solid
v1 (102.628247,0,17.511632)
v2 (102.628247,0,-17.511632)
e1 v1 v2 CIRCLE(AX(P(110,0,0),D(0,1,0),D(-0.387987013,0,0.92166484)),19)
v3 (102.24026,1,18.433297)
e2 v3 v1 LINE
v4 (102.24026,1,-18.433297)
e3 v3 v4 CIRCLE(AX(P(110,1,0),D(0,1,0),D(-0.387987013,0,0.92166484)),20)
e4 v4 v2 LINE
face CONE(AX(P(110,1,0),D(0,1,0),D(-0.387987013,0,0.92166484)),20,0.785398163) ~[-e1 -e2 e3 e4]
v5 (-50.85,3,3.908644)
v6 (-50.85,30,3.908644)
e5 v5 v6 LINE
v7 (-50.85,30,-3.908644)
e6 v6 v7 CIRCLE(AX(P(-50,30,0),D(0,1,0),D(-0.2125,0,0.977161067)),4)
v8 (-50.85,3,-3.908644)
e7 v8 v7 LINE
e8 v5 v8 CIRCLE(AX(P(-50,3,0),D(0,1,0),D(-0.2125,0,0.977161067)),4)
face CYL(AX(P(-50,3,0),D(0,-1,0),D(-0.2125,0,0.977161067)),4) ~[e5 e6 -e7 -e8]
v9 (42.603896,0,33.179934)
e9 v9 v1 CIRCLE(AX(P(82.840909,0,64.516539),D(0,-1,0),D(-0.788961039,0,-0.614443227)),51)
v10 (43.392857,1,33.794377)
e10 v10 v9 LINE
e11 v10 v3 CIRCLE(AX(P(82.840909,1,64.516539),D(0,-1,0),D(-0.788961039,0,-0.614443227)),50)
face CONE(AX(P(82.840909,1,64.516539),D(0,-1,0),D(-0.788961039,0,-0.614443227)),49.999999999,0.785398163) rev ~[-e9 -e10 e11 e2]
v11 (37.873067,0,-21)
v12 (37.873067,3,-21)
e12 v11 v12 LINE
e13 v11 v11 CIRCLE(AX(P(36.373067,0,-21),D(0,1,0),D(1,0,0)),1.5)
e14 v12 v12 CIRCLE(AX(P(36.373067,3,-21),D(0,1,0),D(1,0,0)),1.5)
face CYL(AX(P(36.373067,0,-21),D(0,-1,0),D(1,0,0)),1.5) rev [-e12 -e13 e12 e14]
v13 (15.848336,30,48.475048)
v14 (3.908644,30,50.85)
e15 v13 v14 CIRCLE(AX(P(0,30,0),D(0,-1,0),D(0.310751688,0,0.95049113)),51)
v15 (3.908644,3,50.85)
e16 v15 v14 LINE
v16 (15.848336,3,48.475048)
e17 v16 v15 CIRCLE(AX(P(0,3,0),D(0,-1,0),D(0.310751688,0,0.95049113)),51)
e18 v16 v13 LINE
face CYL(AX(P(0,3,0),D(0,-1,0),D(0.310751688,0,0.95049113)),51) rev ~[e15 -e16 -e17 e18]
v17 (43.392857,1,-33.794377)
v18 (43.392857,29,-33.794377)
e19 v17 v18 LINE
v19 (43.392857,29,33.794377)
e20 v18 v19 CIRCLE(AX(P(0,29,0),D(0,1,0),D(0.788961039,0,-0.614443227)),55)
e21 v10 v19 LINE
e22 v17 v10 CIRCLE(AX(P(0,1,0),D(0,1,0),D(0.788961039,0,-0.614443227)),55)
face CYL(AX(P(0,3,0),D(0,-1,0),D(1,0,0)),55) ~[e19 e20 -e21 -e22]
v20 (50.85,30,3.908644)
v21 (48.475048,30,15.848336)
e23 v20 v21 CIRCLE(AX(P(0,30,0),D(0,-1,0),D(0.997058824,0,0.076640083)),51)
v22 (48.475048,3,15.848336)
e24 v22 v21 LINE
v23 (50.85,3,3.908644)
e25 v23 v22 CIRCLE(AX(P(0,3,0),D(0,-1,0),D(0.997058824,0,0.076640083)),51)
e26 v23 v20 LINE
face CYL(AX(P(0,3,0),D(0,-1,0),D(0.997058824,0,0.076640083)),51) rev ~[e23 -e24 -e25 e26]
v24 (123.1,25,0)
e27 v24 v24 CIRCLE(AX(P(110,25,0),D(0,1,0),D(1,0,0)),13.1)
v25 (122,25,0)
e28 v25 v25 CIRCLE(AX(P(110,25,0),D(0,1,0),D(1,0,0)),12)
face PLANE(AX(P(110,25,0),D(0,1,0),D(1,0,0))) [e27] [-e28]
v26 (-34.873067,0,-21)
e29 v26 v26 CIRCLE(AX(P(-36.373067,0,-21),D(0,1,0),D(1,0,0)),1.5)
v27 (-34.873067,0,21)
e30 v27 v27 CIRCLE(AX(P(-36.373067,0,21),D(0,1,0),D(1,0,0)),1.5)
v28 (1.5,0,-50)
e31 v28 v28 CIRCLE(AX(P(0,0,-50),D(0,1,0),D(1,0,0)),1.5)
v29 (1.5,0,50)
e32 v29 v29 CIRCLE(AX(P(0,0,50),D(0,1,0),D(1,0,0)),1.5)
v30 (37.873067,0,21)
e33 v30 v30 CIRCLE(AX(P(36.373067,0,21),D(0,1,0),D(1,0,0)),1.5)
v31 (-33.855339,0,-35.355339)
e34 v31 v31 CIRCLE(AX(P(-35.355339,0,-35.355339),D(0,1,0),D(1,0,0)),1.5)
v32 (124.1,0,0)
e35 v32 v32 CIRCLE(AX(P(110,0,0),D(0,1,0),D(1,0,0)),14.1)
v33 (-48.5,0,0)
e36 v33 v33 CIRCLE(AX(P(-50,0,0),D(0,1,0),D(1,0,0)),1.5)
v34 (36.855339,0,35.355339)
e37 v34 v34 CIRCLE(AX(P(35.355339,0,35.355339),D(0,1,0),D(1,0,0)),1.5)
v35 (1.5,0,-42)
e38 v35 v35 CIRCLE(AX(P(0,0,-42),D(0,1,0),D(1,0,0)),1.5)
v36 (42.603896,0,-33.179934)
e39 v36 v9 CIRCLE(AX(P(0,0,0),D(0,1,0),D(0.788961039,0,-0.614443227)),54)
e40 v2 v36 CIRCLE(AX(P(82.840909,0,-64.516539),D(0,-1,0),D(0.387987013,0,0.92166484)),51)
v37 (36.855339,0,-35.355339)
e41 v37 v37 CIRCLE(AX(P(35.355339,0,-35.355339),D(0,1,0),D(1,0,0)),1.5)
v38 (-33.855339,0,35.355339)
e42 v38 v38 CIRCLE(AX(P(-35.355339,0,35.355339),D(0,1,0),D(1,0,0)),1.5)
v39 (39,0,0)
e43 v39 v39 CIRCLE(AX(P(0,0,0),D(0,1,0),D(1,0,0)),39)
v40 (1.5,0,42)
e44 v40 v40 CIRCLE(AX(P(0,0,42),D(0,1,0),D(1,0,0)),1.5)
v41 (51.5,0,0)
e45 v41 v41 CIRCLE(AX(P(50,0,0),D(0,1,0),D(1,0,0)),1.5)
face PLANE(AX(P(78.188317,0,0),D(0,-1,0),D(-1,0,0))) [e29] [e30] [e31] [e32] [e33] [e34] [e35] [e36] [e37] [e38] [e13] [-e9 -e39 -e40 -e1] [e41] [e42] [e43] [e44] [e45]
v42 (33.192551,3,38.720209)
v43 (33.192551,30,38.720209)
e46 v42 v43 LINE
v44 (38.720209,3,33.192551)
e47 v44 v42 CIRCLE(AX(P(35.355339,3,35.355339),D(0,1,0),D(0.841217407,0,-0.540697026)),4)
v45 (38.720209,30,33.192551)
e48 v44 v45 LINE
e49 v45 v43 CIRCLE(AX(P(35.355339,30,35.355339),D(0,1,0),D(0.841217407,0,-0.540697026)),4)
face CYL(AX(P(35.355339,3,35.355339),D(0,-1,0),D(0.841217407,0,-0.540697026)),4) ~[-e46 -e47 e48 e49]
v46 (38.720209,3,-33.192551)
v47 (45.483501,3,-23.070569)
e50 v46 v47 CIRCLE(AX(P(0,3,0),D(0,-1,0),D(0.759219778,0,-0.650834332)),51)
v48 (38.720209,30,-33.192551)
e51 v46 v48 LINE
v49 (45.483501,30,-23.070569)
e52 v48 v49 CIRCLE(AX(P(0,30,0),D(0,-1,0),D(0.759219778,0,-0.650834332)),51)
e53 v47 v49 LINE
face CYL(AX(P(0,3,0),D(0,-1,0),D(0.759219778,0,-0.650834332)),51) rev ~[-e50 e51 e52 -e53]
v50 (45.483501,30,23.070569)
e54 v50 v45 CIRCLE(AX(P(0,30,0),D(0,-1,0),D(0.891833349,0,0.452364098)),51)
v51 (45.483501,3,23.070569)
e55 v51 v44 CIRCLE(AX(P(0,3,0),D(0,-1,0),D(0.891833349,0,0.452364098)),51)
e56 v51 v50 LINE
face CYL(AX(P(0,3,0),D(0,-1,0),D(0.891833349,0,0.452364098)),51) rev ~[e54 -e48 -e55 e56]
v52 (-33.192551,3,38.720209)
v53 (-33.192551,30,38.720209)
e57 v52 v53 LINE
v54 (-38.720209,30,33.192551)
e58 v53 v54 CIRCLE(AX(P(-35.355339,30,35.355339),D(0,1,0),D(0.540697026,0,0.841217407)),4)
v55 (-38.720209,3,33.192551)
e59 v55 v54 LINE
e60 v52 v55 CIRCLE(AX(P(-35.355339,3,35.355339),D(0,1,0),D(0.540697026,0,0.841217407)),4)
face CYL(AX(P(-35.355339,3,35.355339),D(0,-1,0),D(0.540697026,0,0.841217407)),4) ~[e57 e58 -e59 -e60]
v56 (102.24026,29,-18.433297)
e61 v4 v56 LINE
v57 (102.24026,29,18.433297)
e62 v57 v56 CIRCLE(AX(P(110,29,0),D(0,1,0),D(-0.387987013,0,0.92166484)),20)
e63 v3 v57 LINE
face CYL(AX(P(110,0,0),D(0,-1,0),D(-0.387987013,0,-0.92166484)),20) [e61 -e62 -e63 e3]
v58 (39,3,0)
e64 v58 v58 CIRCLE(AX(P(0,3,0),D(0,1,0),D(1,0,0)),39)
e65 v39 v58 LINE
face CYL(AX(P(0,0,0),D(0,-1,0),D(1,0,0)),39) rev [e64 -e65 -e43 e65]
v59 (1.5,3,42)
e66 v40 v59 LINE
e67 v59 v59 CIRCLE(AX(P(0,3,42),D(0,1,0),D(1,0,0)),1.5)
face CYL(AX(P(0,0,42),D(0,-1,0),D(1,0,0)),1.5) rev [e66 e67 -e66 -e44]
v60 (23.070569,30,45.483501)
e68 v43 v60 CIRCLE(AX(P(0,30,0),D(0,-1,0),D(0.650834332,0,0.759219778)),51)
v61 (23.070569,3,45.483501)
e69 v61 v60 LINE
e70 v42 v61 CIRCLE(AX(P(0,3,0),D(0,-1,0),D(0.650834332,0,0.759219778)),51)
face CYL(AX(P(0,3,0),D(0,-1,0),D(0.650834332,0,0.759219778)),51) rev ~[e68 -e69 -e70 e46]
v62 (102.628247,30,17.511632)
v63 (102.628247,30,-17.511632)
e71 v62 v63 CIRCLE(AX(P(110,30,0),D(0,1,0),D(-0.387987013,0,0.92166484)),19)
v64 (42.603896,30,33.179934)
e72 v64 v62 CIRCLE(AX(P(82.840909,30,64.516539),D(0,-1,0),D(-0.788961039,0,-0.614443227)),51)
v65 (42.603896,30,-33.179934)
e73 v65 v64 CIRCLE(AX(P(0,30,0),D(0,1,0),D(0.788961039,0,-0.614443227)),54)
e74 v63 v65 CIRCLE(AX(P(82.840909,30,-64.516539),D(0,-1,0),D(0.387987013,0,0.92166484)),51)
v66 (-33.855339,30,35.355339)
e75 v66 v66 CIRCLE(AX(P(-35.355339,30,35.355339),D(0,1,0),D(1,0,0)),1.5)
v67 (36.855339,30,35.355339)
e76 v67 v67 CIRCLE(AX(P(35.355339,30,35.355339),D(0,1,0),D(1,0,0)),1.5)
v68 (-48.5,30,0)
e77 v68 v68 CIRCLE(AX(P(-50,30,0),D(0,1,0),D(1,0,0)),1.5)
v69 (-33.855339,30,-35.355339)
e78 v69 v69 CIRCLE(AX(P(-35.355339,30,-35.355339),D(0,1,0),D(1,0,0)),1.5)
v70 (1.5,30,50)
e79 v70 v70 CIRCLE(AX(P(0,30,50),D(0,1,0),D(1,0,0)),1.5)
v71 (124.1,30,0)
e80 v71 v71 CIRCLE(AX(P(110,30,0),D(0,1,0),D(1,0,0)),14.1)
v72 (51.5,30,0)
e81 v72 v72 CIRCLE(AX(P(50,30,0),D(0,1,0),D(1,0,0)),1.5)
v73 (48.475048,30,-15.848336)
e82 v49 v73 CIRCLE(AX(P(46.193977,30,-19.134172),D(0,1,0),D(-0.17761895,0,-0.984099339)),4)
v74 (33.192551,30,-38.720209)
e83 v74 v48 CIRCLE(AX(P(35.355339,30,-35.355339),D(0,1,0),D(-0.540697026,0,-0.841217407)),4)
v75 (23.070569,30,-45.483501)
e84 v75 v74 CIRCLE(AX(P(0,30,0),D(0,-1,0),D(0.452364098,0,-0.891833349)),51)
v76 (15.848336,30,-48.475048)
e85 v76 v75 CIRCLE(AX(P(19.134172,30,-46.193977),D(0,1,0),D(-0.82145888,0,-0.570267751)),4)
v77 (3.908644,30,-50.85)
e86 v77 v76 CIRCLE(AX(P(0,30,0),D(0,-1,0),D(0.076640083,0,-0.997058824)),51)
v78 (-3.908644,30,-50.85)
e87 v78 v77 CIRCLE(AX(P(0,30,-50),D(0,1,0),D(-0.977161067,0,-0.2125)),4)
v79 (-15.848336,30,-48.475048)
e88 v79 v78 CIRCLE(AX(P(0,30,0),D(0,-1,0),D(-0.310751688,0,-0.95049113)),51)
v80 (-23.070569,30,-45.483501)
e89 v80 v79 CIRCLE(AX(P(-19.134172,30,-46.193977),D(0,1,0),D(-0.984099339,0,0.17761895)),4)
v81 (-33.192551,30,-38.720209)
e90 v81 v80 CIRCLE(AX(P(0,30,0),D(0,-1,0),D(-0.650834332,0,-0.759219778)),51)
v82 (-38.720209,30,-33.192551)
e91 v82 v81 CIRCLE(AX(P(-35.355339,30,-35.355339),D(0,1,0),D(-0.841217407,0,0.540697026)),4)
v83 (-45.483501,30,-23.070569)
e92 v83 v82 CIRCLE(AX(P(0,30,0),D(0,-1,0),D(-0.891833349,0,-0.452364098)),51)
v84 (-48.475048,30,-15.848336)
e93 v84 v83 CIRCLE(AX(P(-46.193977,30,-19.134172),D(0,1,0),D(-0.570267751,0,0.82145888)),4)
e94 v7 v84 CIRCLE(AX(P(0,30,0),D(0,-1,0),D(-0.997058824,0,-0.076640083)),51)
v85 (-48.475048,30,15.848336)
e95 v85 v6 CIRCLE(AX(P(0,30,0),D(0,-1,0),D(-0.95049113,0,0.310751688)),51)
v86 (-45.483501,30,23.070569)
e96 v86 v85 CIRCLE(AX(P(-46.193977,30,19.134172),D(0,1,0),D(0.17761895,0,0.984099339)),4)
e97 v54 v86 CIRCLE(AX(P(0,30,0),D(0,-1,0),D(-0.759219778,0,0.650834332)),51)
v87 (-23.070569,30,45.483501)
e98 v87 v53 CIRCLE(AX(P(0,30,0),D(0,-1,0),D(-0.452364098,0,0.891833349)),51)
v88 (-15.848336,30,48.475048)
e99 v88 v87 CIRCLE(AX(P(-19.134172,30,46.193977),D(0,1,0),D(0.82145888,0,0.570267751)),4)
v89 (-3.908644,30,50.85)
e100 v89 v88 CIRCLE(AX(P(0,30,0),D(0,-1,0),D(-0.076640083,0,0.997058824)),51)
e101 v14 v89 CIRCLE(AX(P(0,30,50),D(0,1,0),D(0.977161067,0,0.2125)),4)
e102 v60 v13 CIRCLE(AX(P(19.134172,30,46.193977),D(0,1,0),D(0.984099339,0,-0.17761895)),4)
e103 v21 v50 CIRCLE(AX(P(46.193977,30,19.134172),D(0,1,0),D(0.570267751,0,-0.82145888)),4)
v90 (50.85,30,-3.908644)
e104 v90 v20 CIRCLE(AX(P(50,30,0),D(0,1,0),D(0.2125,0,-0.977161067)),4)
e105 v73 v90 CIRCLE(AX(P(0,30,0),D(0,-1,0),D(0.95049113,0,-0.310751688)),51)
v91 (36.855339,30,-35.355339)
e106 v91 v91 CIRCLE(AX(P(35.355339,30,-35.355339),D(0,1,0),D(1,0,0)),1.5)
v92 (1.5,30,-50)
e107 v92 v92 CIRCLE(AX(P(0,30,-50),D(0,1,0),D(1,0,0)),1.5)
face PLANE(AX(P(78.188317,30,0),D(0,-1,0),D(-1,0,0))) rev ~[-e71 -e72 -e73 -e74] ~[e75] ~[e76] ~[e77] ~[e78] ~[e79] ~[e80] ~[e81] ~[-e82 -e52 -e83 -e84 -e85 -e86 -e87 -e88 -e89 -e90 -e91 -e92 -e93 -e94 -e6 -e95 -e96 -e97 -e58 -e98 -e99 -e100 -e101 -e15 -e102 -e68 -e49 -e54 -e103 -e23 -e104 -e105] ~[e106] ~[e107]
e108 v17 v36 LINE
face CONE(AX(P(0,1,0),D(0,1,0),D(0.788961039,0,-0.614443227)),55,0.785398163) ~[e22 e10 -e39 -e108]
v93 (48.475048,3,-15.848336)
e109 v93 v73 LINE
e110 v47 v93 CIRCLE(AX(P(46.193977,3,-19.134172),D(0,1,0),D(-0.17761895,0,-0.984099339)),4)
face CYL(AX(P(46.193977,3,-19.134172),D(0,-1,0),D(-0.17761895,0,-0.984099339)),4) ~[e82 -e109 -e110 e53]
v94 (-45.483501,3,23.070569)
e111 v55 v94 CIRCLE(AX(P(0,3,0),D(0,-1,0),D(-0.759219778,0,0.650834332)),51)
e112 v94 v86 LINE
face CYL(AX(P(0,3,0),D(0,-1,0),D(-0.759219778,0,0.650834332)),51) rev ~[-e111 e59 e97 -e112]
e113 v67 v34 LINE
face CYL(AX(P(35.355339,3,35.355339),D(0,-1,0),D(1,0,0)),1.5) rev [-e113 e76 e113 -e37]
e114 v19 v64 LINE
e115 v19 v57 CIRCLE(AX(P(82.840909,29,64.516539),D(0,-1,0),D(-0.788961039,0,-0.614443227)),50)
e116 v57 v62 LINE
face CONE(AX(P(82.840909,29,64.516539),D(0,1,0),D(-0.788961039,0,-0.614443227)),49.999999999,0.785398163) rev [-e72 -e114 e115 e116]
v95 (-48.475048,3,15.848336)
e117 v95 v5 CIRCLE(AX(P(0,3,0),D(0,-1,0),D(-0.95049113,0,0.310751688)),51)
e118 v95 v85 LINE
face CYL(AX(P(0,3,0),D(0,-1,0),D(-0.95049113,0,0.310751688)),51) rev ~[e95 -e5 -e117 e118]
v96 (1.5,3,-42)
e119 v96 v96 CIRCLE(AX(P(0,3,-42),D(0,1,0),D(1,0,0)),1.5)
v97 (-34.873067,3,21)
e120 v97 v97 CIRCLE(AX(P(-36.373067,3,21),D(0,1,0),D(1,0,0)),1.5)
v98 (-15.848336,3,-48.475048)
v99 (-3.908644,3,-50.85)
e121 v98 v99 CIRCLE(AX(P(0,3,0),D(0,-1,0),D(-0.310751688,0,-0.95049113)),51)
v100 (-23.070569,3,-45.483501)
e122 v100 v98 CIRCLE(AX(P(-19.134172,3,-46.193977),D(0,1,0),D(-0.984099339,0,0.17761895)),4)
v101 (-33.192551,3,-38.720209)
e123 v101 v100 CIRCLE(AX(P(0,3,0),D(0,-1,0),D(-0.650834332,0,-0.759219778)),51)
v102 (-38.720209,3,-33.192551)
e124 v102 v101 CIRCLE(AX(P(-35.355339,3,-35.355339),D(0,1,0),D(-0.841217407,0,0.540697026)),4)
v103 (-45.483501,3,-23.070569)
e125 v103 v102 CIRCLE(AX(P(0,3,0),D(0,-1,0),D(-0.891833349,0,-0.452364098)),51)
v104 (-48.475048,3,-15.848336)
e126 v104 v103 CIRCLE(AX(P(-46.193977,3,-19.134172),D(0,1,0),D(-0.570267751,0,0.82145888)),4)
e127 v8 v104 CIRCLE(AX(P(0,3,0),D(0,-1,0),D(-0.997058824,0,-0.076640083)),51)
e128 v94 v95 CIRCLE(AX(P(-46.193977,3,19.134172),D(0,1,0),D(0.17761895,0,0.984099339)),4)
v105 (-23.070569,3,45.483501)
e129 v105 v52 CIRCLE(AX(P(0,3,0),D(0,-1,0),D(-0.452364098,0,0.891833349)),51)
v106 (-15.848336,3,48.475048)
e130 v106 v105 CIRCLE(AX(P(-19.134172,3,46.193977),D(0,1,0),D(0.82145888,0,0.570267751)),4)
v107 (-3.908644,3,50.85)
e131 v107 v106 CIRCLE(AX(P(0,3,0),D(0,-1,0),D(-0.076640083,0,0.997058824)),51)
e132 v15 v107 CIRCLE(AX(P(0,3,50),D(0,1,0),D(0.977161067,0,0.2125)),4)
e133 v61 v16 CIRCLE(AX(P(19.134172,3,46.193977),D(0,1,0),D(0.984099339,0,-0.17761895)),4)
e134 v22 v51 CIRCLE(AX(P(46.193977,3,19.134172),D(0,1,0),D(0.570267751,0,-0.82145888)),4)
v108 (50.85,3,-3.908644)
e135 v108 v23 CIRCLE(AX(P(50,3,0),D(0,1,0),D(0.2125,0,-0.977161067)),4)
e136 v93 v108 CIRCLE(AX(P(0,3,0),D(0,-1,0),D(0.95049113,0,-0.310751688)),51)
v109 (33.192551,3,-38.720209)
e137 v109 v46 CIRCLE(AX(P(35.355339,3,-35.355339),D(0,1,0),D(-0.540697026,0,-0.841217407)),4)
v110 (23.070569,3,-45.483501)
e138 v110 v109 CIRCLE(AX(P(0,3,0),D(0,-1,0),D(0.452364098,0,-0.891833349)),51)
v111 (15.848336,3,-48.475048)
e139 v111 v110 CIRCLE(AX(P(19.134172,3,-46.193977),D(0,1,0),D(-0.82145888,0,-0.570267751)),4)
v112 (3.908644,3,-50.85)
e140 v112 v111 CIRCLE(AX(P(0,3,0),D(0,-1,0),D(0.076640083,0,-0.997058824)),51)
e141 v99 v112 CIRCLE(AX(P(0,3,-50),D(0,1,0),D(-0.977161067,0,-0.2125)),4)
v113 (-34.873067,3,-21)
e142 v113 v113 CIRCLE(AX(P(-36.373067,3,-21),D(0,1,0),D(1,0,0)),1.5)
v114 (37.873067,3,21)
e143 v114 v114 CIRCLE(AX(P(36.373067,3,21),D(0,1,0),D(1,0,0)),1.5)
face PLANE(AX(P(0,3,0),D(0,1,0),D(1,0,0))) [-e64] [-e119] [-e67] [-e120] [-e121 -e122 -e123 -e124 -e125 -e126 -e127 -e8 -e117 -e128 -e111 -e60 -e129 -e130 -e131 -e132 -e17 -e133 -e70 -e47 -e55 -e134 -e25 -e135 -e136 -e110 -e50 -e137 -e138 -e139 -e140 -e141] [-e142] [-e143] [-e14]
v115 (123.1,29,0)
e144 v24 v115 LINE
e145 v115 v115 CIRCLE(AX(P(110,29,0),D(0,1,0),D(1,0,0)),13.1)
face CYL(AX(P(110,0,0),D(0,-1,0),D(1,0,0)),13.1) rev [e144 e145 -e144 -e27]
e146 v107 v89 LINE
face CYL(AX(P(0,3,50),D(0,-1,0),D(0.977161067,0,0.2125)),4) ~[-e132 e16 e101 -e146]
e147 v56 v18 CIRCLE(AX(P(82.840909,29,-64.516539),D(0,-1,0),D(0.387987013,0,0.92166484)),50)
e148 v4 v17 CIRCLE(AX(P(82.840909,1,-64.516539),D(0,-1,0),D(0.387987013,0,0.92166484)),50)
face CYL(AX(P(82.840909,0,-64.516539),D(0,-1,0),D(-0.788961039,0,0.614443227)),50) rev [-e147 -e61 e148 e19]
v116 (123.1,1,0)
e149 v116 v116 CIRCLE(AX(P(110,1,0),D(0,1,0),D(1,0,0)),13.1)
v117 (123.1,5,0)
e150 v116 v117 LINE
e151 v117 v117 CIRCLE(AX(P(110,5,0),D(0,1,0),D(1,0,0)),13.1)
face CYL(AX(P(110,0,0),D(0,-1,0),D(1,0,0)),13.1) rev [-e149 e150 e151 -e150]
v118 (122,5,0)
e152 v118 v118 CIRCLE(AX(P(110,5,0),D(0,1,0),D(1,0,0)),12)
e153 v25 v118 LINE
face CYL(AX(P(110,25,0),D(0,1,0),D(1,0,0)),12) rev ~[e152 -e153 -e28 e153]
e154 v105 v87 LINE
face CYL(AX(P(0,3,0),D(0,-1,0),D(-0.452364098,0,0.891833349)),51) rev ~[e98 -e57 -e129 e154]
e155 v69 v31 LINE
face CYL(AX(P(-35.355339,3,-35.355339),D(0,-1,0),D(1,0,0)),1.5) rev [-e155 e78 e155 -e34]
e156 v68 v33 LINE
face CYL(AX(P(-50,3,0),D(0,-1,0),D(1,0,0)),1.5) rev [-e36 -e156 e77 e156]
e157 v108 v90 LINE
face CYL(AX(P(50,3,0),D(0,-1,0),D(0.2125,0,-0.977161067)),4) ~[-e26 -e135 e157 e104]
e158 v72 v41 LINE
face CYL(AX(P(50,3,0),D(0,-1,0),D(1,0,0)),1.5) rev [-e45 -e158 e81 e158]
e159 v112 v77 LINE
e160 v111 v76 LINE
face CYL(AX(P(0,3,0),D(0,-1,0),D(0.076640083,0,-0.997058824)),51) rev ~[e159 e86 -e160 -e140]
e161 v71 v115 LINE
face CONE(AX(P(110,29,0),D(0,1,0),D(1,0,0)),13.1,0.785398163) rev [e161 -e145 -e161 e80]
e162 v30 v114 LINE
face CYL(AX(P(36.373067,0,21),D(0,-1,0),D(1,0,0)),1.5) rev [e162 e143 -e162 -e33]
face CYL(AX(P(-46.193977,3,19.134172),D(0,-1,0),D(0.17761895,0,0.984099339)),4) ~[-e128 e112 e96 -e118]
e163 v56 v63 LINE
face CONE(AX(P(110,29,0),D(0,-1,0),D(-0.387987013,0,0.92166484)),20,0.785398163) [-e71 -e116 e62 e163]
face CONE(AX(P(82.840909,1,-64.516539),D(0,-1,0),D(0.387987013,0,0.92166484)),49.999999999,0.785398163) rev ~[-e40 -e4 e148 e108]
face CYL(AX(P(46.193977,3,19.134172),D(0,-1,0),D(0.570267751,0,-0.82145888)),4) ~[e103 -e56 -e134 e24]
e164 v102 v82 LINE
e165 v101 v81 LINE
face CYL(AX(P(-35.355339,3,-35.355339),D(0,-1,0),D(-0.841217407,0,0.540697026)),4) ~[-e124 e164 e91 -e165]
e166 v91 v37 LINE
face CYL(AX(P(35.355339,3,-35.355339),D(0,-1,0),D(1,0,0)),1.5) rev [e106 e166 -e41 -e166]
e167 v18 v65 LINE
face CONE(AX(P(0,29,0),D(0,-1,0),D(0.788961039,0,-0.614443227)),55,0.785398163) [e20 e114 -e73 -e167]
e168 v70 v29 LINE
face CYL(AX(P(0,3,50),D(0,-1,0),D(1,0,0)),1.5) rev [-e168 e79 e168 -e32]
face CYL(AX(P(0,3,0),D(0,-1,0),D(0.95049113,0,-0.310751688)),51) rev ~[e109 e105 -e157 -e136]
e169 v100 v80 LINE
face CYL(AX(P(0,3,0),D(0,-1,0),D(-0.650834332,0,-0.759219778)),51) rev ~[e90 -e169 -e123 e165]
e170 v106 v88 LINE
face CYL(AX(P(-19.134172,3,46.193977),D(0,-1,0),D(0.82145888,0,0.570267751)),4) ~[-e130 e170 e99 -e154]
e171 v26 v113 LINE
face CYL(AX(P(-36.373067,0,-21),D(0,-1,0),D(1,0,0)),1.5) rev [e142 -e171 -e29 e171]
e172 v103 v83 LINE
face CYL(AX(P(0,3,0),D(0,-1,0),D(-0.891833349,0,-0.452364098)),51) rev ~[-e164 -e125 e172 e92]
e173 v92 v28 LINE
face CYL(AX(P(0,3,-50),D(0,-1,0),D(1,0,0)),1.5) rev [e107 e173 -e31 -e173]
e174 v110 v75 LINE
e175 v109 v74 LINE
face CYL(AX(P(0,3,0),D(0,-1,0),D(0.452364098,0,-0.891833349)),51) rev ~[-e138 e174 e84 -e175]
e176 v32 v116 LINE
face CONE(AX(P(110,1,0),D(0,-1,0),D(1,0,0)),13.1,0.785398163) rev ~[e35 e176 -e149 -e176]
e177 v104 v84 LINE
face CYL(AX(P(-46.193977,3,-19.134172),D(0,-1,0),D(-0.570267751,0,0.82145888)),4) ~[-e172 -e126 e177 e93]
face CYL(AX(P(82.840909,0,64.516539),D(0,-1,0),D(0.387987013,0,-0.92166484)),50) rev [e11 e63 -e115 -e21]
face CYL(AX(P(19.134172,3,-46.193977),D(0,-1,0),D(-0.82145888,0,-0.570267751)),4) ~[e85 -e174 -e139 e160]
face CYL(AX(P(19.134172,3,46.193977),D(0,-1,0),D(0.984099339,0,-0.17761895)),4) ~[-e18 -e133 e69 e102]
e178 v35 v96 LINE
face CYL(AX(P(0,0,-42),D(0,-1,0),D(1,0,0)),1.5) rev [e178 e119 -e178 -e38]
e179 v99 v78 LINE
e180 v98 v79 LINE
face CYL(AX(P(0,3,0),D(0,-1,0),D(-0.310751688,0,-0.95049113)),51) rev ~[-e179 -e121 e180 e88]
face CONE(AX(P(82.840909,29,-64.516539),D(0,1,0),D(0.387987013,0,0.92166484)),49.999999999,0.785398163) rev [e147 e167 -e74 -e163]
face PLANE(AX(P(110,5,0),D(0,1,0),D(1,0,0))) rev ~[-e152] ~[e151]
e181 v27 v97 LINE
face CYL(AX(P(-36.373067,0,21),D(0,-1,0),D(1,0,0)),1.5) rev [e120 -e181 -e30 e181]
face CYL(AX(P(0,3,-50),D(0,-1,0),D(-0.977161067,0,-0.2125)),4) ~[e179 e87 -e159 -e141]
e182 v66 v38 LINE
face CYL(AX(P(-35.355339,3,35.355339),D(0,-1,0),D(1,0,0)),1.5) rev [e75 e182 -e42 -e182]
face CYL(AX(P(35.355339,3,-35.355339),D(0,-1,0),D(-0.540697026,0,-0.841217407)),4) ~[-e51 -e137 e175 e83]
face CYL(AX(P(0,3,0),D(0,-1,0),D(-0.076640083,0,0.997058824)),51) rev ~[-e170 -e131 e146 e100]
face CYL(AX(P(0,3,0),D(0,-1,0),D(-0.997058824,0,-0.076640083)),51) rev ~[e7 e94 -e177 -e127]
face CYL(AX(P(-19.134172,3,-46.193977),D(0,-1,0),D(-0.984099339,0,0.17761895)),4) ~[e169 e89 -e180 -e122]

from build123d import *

# Parameters (mm, degrees)
SKETCH1_R           = 55
SKETCH1_R_2         = 39
SKETCH1_R_3         = 1.5
BOSS_EXTRUDE1_DEPTH = 3
SKETCH2_R           = 55
SKETCH2_R_2         = 1.5
BOSS_EXTRUDE3_DEPTH = 27
BOSS_EXTRUDE4_START = -30
SKETCH3_R           = 13.1
BOSS_EXTRUDE4_DEPTH = 30
BOSS_EXTRUDE5_START = -5
SKETCH6_R           = 13.1
SKETCH6_R_2         = 12
BOSS_EXTRUDE5_DEPTH = 20
CHAMFER1_SIZE       = 1


with BuildPart() as part:
    # Sketch1 → Boss-Extrude1 (new body)
    with BuildSketch(Plane(origin=(0, 0, 0), x_dir=(1, 0, 0), z_dir=(0, 1, 0))):
        Circle(SKETCH1_R)
        Circle(SKETCH1_R_2, mode=Mode.SUBTRACT)
        with Locations((0, 50)):
            Circle(SKETCH1_R_3, mode=Mode.SUBTRACT)
        with Locations((35.355339059, 35.355339059)):
            Circle(SKETCH1_R_3, mode=Mode.SUBTRACT)
        with Locations((50, 0)):
            Circle(SKETCH1_R_3, mode=Mode.SUBTRACT)
        with Locations((35.355339059, -35.355339059)):
            Circle(SKETCH1_R_3, mode=Mode.SUBTRACT)
        with Locations((0, -50)):
            Circle(SKETCH1_R_3, mode=Mode.SUBTRACT)
        with Locations((-35.355339059, -35.355339059)):
            Circle(SKETCH1_R_3, mode=Mode.SUBTRACT)
        with Locations((-50, 0)):
            Circle(SKETCH1_R_3, mode=Mode.SUBTRACT)
        with Locations((-35.355339059, 35.355339059)):
            Circle(SKETCH1_R_3, mode=Mode.SUBTRACT)
        with Locations((0, 42)):
            Circle(SKETCH1_R_3, mode=Mode.SUBTRACT)
        with Locations((36.373066959, 21)):
            Circle(SKETCH1_R_3, mode=Mode.SUBTRACT)
        with Locations((36.373066959, -21)):
            Circle(SKETCH1_R_3, mode=Mode.SUBTRACT)
        with Locations((0, -42)):
            Circle(SKETCH1_R_3, mode=Mode.SUBTRACT)
        with Locations((-36.373066959, -21)):
            Circle(SKETCH1_R_3, mode=Mode.SUBTRACT)
        with Locations((-36.373066959, 21)):
            Circle(SKETCH1_R_3, mode=Mode.SUBTRACT)
    extrude(amount=BOSS_EXTRUDE1_DEPTH)

    # Sketch2 → Boss-Extrude3 (add)
    with BuildSketch(Plane(origin=(0, 3, 0), x_dir=(1, 0, 0), z_dir=(0, 1, 0))):
        Circle(SKETCH2_R)
        with Locations((-35.355339059, 35.355339059)):
            Circle(SKETCH2_R_2, mode=Mode.SUBTRACT)
        with Locations((-50, 0)):
            Circle(SKETCH2_R_2, mode=Mode.SUBTRACT)
        with Locations((-35.355339059, -35.355339059)):
            Circle(SKETCH2_R_2, mode=Mode.SUBTRACT)
        with Locations((0, -50)):
            Circle(SKETCH2_R_2, mode=Mode.SUBTRACT)
        with Locations((35.355339059, -35.355339059)):
            Circle(SKETCH2_R_2, mode=Mode.SUBTRACT)
        with Locations((50, 0)):
            Circle(SKETCH2_R_2, mode=Mode.SUBTRACT)
        with Locations((35.355339059, 35.355339059)):
            Circle(SKETCH2_R_2, mode=Mode.SUBTRACT)
        with Locations((0, 50)):
            Circle(SKETCH2_R_2, mode=Mode.SUBTRACT)
        with BuildLine():
            ThreePointArc((-3.908644266, 50.85), (0, 46), (3.908644266, 50.85))
            ThreePointArc((3.908644266, 50.85), (9.949606423, 50.020049301), (15.848336098, 48.475047632))
            ThreePointArc((15.848336098, 48.475047632), (17.603437889, 42.498458496), (23.070568973, 45.483500825))
            ThreePointArc((23.070568973, 45.483500825), (28.334081884, 42.404950227), (33.192550957, 38.720208689))
            ThreePointArc((33.192550957, 38.720208689), (32.526911935, 32.526911935), (38.720208689, 33.192550957))
            ThreePointArc((38.720208689, 33.192550957), (42.404950227, 28.334081884), (45.483500825, 23.070568973))
            ThreePointArc((45.483500825, 23.070568973), (42.498458496, 17.603437889), (48.475047632, 15.848336098))
            ThreePointArc((48.475047632, 15.848336098), (50.020049301, 9.949606423), (50.85, 3.908644266))
            ThreePointArc((50.85, 3.908644266), (46, 0), (50.85, -3.908644266))
            ThreePointArc((50.85, -3.908644266), (50.020049301, -9.949606423), (48.475047632, -15.848336098))
            ThreePointArc((48.475047632, -15.848336098), (42.498458496, -17.603437889), (45.483500825, -23.070568973))
            ThreePointArc((45.483500825, -23.070568973), (42.404950227, -28.334081884), (38.720208689, -33.192550957))
            ThreePointArc((38.720208689, -33.192550957), (32.526911935, -32.526911935), (33.192550957, -38.720208689))
            ThreePointArc((33.192550957, -38.720208689), (28.334081884, -42.404950227), (23.070568973, -45.483500825))
            ThreePointArc((23.070568973, -45.483500825), (17.603437889, -42.498458496), (15.848336098, -48.475047632))
            ThreePointArc((15.848336098, -48.475047632), (9.949606423, -50.020049301), (3.908644266, -50.85))
            ThreePointArc((3.908644266, -50.85), (0, -46), (-3.908644266, -50.85))
            ThreePointArc((-3.908644266, -50.85), (-9.949606423, -50.020049301), (-15.848336098, -48.475047632))
            ThreePointArc((-15.848336098, -48.475047632), (-17.603437889, -42.498458496), (-23.070568973, -45.483500825))
            ThreePointArc((-23.070568973, -45.483500825), (-28.334081884, -42.404950227), (-33.192550957, -38.720208689))
            ThreePointArc((-33.192550957, -38.720208689), (-32.526911935, -32.526911935), (-38.720208689, -33.192550957))
            ThreePointArc((-38.720208689, -33.192550957), (-42.404950227, -28.334081884), (-45.483500825, -23.070568973))
            ThreePointArc((-45.483500825, -23.070568973), (-42.498458496, -17.603437889), (-48.475047632, -15.848336098))
            ThreePointArc((-48.475047632, -15.848336098), (-50.020049301, -9.949606423), (-50.85, -3.908644266))
            ThreePointArc((-50.85, -3.908644266), (-46, 0), (-50.85, 3.908644266))
            ThreePointArc((-50.85, 3.908644266), (-50.020049301, 9.949606423), (-48.475047632, 15.848336098))
            ThreePointArc((-48.475047632, 15.848336098), (-42.498458496, 17.603437889), (-45.483500825, 23.070568973))
            ThreePointArc((-45.483500825, 23.070568973), (-42.404950227, 28.334081884), (-38.720208689, 33.192550957))
            ThreePointArc((-38.720208689, 33.192550957), (-32.526911935, 32.526911935), (-33.192550957, 38.720208689))
            ThreePointArc((-33.192550957, 38.720208689), (-28.334081884, 42.404950227), (-23.070568973, 45.483500825))
            ThreePointArc((-23.070568973, 45.483500825), (-17.603437889, 42.498458496), (-15.848336098, 48.475047632))
            ThreePointArc((-15.848336098, 48.475047632), (-9.949606423, 50.020049301), (-3.908644266, 50.85))
        make_face(mode=Mode.SUBTRACT)
    extrude(amount=BOSS_EXTRUDE3_DEPTH)

    # Sketch3 → Boss-Extrude4 (add)
    with BuildSketch(Plane(origin=(0, 30, 0), x_dir=(1, 0, 0), z_dir=(0, 1, 0)).offset(BOSS_EXTRUDE4_START)):
        with BuildLine():
            ThreePointArc((43.392857143, -33.794377476), (55, 0), (43.392857143, 33.794377476))
            ThreePointArc((43.392857143, 33.794377476), (70.212437062, 16.137600278), (102.24025974, 18.433296805))
            ThreePointArc((102.24025974, 18.433296805), (130, 0), (102.24025974, -18.433296805))
            ThreePointArc((102.24025974, -18.433296805), (70.212437062, -16.137600278), (43.392857143, -33.794377476))
        make_face()
        with Locations((110, 0)):
            Circle(SKETCH3_R, mode=Mode.SUBTRACT)
    extrude(amount=BOSS_EXTRUDE4_DEPTH)

    # Sketch6 → Boss-Extrude5 (add)
    with BuildSketch(Plane(origin=(0, 30, 0), x_dir=(1, 0, 0), z_dir=(0, 1, 0)).offset(BOSS_EXTRUDE5_START)):
        with Locations((110, 0)):
            Circle(SKETCH6_R)
        with Locations((110, 0)):
            Circle(SKETCH6_R_2, mode=Mode.SUBTRACT)
    extrude(amount=-BOSS_EXTRUDE5_DEPTH)

    # Chamfer1
    chamfer1_edges = [part.edges().sort_by_distance(p)[0] for p in [
        (-55, 30, 0),
        (-55, 0, 0),
        (130, 30, 0),
        (70.212437062, 0, -16.137600278),
        (70.212437062, 0, 16.137600278),
        (96.9, 0, 0),
        (70.212437062, 30, -16.137600278),
        (70.212437062, 30, 16.137600278),
        (130, 0, 0),
        (96.9, 30, 0),
    ]]
    chamfer(chamfer1_edges, length=CHAMFER1_SIZE)


solid = part.part
